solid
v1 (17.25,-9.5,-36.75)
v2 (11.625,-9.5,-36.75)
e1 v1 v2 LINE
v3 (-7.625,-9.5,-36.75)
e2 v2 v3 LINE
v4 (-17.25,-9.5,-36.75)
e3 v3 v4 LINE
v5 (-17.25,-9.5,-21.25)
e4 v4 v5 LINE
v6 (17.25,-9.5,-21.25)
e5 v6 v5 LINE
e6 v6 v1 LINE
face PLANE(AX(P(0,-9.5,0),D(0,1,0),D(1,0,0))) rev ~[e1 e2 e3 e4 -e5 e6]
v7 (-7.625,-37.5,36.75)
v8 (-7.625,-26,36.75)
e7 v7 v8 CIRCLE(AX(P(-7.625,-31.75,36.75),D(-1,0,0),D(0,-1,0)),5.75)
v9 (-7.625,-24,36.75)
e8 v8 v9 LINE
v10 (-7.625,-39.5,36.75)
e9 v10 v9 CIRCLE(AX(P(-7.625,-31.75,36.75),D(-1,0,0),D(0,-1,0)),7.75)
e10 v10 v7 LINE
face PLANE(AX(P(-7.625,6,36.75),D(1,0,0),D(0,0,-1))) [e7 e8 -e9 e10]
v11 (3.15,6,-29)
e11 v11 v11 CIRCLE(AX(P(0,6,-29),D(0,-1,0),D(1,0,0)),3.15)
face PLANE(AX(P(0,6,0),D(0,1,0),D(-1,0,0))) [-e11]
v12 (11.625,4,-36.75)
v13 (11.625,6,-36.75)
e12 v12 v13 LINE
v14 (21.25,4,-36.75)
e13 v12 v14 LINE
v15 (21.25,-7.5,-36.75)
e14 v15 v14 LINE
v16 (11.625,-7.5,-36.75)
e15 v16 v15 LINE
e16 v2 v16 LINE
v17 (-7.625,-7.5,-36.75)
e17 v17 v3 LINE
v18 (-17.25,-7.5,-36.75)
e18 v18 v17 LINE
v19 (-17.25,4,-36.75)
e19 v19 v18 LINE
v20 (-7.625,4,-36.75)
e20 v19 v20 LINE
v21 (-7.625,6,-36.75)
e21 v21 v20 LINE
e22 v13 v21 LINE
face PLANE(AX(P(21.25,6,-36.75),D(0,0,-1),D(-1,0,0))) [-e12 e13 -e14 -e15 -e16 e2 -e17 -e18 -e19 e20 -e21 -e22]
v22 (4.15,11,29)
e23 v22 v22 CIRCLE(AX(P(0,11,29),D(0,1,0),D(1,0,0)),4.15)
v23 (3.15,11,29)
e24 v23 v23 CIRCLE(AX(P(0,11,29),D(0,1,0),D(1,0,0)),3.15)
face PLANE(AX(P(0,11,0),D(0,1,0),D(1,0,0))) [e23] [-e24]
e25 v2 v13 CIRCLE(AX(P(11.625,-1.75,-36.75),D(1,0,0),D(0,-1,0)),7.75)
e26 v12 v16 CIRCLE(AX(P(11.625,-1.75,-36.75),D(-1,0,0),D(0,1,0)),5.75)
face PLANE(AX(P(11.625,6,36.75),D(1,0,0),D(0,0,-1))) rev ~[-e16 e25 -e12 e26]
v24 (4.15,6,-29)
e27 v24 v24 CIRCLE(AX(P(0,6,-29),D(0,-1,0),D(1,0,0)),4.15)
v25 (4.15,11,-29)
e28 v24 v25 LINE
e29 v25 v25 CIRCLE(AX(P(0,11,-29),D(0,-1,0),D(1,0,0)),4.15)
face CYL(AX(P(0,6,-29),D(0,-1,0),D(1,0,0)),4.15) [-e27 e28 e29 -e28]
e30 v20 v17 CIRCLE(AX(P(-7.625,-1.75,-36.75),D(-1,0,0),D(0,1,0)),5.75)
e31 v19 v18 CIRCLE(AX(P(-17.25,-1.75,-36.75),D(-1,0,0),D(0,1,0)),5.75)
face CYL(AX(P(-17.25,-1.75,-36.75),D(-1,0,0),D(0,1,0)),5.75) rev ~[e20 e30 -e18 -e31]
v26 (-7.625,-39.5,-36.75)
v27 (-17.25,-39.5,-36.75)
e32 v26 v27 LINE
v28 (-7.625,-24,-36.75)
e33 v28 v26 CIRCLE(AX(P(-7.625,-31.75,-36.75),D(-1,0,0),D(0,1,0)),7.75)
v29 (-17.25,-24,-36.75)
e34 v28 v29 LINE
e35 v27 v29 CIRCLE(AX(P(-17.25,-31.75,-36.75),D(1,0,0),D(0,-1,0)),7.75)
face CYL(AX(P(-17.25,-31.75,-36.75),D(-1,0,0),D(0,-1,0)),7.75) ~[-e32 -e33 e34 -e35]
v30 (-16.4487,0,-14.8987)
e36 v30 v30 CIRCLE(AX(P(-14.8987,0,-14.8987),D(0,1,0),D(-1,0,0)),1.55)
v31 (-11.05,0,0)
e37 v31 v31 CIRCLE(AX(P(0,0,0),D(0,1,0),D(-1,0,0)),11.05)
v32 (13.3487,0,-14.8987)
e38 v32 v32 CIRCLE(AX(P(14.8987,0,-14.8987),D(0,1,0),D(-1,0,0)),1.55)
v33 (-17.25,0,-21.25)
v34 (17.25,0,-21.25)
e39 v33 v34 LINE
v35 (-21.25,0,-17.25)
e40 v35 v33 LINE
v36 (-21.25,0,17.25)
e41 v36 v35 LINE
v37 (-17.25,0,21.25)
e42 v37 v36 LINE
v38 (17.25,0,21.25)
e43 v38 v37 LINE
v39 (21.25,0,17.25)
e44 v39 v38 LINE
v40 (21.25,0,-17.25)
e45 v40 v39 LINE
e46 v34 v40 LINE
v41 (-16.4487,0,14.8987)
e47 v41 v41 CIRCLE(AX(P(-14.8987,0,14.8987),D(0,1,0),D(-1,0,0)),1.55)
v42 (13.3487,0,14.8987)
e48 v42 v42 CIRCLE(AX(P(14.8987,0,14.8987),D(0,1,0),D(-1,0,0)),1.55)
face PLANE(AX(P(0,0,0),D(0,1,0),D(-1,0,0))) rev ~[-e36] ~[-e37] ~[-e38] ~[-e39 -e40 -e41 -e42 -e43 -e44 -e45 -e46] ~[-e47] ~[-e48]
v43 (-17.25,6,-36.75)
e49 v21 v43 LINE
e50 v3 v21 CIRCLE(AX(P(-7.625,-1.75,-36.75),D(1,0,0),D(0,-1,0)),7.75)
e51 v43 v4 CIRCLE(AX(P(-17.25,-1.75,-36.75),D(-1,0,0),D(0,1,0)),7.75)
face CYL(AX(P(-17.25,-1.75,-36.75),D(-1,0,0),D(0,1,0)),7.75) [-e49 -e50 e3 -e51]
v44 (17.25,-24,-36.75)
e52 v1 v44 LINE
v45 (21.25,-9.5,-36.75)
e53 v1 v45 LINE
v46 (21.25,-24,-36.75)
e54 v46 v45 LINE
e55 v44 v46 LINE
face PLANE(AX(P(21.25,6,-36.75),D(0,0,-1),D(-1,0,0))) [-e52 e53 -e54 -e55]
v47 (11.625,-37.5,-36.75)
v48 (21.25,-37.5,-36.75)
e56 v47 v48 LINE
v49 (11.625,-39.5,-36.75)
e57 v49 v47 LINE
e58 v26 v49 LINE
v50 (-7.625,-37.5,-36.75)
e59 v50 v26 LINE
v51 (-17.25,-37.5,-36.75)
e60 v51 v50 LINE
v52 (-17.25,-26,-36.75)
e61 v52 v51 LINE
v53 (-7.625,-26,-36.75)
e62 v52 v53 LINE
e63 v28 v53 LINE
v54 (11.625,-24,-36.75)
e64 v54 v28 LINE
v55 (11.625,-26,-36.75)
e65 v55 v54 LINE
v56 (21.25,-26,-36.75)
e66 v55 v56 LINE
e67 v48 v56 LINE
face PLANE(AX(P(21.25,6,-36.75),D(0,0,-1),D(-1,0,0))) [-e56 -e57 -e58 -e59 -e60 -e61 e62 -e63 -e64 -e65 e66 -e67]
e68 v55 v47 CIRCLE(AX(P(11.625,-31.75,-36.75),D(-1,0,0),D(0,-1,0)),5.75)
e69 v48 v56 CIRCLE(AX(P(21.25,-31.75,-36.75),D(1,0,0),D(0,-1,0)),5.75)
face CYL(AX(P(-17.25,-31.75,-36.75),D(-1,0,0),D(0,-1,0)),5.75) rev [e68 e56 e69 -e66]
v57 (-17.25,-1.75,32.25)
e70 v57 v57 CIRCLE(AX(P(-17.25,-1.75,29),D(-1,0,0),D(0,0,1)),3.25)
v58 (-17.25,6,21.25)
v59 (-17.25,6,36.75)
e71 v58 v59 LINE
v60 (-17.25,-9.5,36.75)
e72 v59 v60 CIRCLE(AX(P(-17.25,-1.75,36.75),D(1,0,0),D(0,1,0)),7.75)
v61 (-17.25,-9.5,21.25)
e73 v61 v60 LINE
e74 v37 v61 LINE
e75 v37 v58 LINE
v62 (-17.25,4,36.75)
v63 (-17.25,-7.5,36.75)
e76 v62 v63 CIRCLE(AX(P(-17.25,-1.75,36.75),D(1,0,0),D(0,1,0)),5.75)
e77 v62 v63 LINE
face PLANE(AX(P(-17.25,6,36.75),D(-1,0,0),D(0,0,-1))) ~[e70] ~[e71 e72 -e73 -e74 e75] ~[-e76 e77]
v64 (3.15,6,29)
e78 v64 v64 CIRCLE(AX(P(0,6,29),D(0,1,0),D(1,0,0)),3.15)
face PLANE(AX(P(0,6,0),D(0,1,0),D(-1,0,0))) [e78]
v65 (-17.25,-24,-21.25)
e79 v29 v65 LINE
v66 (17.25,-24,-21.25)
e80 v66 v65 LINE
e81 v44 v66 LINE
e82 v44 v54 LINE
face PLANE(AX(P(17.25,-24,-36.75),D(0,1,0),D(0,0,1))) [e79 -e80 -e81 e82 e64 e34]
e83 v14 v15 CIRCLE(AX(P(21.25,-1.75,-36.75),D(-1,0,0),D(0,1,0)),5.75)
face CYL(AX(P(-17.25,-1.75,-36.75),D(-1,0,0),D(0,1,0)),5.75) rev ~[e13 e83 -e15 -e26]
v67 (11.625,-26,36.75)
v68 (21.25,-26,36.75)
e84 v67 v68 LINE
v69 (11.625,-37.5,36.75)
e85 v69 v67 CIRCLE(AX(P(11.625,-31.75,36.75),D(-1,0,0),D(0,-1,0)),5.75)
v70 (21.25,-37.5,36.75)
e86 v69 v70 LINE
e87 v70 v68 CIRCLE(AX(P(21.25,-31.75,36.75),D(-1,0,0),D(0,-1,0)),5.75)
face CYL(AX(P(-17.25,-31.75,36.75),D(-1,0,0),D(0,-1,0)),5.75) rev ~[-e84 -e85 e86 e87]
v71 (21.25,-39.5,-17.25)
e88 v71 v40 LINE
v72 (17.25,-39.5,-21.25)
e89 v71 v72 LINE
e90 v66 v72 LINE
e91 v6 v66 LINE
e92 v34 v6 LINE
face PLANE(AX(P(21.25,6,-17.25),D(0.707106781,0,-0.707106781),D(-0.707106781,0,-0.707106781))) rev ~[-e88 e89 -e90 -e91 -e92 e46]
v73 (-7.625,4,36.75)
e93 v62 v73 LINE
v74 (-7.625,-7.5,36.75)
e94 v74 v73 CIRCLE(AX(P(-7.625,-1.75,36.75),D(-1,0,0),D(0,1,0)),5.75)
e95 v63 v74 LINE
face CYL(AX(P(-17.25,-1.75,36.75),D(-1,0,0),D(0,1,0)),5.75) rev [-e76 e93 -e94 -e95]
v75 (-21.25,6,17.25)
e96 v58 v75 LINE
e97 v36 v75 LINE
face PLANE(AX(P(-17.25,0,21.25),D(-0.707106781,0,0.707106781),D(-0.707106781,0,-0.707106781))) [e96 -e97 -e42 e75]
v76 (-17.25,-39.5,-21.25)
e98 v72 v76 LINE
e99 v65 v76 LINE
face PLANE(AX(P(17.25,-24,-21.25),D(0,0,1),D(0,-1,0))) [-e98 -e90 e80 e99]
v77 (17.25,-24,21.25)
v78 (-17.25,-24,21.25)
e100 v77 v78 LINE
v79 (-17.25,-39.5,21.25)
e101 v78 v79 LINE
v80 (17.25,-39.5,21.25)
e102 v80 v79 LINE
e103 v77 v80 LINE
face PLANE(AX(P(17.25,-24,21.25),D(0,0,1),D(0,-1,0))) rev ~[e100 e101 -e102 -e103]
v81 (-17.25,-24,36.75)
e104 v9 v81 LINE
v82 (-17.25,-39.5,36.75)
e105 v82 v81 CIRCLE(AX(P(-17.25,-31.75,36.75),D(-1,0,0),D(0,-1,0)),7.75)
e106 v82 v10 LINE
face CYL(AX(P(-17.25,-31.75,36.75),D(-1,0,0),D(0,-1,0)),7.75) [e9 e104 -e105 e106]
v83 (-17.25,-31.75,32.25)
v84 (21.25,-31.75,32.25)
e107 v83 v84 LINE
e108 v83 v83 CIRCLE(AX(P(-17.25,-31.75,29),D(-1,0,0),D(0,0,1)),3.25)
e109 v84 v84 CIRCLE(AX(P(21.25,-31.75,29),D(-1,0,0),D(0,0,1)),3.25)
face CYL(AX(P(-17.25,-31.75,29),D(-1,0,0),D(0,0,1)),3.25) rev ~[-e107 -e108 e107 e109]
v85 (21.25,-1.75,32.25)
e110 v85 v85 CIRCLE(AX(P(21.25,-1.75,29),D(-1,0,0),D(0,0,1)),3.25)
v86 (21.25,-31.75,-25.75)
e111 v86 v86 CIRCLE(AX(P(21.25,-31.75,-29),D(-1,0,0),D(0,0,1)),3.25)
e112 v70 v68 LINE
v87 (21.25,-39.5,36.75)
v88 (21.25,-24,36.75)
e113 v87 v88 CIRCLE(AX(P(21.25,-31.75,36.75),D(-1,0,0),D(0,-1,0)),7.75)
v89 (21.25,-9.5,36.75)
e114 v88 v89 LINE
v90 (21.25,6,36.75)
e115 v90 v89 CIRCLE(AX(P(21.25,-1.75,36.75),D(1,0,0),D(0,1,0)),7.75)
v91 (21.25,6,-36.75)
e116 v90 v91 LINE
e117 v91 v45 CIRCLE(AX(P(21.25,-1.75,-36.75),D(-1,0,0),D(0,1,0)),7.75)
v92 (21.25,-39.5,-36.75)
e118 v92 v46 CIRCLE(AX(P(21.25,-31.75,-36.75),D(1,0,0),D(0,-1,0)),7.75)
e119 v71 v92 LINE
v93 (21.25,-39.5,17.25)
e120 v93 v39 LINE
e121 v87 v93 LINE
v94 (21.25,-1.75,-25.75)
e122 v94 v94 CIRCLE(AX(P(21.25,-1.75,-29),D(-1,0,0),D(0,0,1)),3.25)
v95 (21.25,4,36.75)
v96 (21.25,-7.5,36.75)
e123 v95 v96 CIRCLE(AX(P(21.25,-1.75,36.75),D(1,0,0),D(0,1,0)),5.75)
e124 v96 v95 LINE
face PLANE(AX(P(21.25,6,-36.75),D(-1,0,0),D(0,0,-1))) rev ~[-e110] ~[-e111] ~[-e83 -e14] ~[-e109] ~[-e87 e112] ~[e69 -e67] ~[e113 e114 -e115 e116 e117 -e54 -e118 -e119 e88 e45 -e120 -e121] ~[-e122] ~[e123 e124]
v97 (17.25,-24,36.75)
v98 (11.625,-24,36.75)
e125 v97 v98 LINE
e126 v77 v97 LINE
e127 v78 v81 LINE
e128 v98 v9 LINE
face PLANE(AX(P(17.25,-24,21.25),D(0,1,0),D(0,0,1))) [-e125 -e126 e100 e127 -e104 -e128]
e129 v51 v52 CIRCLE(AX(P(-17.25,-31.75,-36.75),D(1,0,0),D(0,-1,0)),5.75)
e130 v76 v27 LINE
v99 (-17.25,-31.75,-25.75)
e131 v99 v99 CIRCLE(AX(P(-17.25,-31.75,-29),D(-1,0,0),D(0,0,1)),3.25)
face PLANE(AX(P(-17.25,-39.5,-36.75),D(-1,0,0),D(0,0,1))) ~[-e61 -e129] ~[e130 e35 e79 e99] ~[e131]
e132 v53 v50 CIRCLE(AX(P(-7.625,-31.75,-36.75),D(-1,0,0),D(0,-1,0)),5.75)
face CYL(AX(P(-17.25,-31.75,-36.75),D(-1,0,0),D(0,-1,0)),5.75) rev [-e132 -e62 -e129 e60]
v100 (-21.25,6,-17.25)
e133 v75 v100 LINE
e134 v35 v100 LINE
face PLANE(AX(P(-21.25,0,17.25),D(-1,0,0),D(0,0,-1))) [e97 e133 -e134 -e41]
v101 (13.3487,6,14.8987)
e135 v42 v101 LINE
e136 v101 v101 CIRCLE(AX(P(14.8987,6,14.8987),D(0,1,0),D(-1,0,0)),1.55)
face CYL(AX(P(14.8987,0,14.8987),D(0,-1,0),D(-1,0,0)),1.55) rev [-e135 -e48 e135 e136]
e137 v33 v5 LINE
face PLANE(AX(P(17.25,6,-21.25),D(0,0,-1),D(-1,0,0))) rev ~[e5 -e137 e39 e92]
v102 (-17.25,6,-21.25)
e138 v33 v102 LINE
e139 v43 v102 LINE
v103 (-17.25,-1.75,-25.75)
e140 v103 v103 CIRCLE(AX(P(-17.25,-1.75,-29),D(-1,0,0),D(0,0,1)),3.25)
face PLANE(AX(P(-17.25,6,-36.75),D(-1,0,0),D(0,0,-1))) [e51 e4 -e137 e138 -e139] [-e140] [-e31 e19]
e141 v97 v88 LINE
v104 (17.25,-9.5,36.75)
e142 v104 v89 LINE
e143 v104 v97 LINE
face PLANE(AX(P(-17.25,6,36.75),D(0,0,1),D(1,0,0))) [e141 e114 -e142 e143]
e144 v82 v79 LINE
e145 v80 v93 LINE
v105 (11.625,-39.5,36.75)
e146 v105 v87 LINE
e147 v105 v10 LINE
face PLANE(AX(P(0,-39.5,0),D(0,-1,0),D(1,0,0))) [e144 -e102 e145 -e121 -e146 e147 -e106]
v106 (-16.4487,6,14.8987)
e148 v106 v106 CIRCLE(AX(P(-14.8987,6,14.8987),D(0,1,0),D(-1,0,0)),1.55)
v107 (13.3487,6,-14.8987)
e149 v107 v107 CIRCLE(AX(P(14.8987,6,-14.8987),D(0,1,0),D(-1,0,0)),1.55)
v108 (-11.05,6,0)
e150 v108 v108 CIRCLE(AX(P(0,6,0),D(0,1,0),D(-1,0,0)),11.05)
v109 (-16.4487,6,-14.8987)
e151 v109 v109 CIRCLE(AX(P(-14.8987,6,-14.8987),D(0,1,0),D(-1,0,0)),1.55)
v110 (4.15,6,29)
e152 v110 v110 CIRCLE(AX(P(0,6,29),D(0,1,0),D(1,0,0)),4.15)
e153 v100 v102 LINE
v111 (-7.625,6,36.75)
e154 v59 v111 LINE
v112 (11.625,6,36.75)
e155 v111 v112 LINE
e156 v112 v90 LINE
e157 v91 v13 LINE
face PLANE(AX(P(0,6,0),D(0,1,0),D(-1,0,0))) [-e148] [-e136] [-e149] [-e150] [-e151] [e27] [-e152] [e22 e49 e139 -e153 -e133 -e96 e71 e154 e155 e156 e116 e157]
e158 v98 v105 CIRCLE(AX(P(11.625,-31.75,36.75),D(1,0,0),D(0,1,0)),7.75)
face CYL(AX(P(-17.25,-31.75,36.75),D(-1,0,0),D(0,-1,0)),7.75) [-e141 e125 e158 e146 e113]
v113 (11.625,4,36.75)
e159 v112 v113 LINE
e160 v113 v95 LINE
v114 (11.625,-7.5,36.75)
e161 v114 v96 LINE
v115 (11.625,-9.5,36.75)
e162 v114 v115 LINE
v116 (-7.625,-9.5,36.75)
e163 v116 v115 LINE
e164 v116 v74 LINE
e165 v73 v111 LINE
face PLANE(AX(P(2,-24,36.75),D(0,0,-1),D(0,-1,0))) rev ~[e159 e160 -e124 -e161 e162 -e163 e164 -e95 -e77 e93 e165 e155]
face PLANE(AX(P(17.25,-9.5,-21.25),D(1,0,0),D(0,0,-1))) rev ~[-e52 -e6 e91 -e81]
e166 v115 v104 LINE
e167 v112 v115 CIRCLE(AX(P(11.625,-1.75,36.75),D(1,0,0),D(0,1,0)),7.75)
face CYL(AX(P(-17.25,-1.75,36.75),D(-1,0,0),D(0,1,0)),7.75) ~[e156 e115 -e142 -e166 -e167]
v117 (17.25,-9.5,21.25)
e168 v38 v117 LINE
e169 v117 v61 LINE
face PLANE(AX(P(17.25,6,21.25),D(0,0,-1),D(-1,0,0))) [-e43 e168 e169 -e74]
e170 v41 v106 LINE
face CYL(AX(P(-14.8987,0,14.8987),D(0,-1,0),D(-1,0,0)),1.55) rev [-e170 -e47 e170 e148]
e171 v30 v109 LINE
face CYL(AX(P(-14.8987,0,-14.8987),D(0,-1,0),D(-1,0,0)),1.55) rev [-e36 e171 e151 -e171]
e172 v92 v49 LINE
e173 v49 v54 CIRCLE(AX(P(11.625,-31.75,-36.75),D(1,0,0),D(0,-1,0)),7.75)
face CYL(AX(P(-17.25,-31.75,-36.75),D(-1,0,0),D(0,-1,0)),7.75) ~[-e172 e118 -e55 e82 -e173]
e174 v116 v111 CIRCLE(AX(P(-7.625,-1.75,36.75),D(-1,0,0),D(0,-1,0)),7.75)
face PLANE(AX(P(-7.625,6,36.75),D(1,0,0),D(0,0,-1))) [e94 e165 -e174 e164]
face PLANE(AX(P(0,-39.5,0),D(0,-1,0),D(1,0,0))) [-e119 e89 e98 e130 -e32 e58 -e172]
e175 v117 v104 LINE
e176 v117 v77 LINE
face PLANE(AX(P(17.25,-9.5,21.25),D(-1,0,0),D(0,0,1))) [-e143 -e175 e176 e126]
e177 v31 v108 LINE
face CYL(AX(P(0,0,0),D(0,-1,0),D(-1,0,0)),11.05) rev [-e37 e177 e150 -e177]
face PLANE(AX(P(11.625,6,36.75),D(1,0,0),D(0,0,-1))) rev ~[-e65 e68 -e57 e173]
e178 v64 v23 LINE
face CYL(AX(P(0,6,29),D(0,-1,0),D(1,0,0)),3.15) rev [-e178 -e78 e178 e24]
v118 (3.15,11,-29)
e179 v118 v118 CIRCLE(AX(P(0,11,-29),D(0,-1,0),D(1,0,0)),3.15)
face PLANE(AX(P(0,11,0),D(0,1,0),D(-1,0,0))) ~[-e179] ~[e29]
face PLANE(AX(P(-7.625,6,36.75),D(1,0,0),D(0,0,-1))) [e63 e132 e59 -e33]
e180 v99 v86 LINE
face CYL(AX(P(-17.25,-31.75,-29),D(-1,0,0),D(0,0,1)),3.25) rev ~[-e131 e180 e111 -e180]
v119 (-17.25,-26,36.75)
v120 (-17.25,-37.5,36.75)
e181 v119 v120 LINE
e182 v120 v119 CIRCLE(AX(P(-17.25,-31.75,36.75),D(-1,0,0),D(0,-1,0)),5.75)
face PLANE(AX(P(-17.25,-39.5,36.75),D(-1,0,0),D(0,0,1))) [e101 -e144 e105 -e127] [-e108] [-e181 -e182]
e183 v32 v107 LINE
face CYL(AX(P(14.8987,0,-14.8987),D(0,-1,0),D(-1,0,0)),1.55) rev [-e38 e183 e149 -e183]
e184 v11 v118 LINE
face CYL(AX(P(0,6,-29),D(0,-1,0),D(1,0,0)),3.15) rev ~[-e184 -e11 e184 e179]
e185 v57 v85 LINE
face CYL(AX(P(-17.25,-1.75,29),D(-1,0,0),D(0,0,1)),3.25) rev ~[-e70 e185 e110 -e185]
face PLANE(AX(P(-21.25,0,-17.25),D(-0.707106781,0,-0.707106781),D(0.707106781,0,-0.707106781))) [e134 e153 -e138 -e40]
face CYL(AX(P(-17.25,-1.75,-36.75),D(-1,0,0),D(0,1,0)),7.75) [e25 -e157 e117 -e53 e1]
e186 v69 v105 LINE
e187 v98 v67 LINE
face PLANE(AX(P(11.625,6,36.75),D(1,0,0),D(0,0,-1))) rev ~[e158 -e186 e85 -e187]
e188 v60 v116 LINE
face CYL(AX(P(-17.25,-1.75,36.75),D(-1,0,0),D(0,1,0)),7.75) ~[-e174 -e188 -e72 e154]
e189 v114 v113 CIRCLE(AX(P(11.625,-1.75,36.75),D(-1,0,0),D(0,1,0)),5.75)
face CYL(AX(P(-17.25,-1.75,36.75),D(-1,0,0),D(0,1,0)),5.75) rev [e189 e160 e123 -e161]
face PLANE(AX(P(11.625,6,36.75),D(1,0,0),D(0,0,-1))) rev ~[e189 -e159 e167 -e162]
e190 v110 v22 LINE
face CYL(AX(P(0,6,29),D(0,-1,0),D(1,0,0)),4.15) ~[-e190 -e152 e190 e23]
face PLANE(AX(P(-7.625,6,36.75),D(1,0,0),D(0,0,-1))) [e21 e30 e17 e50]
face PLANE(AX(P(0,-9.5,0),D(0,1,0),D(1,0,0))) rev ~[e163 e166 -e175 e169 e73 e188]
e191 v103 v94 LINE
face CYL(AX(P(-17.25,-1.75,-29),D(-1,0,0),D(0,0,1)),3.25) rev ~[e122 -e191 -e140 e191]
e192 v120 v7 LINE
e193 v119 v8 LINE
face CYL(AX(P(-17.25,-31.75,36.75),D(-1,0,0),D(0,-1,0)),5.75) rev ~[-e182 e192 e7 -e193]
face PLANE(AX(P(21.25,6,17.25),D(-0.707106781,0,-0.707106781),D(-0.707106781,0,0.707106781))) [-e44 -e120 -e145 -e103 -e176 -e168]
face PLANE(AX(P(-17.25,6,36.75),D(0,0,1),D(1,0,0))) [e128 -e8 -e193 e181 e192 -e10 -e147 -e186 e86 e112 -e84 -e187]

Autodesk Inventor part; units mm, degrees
sketch "Sketch1" plane through (0, 0, 0) normal (0, 1, 0) x (-1, 0, 0)
  circle A0 centre (0, 0) radius 11.05
  line L0 (17.25, 21.25) -> (21.25, 17.25)
  line L1 (21.25, 17.25) -> (21.25, -17.25)
  line L2 (21.25, -17.25) -> (17.25, -21.25)
  line L3 (17.25, -21.25) -> (-17.25, -21.25)
  line L4 (-17.25, -21.25) -> (-21.25, -17.25)
  line L5 (-21.25, -17.25) -> (-21.25, 17.25)
  line L6 (-21.25, 17.25) -> (-17.25, 21.25)
  line L7 (-17.25, 21.25) -> (17.25, 21.25)
  line L8 (0, 21.25) -> (0, -21.25) construction
  line L9 (21.25, 0) -> (-21.25, 0) construction
  circle A1 centre (14.8987, 14.8987) radius 1.55
  line L10 (14.8987, 14.8987) -> (0, 0) construction
  circle A2 centre (-14.8987, 14.8987) radius 1.55
  circle A3 centre (-14.8987, -14.8987) radius 1.55
  circle A4 centre (14.8987, -14.8987) radius 1.55
  dimension "d0" = 22.1
  dimension "d1" = 42.5
  dimension "d2" = 4
  dimension "d3" = 135
  dimension "d4" = 3.1
  dimension "d5" = 21.07
  dimension "d6" = 45
  dimension "d9" = 360
extrude "Extrusion1" add sketch "Sketch1" along normal blind 6
sketch "Sketch2" plane through (0, 6, 0) normal (0, 1, 0) x (1, 0, 0)
  line L0 (-21.25, -17.25) -> (-17.25, -21.25) projected
  line L1 (-17.25, -21.25) -> (-17.25, -36.75)
  line L2 (-17.25, -36.75) -> (21.25, -36.75)
  line L3 (21.25, -36.75) -> (21.25, 36.75)
  line L4 (21.25, 36.75) -> (-17.25, 36.75)
  line L5 (17.25, 21.25) -> (-17.25, 21.25) projected
  line L6 (-17.25, 36.75) -> (-17.25, 21.25)
  line L7 (-17.25, 21.25) -> (17.25, 21.25)
  line L8 (21.25, 17.25) -> (17.25, 21.25) projected
  line L9 (17.25, 21.25) -> (21.25, 17.25)
  line L10 (21.25, 17.25) -> (21.25, -17.25)
  line L11 (21.25, -17.25) -> (17.25, -21.25)
  line L12 (17.25, -21.25) -> (-17.25, -21.25)
  line L13 (21.25, -17.25) -> (21.25, 17.25) projected
  point P0 (0, 0)
  point P1 (21.25, -17.25)
  dimension "d13" = 15.5
extrude "Extrusion2" add sketch "Sketch2" against normal blind 15.5
sketch "Sketch3" plane through (0, -9.5, 0) normal (0, -1, 0) x (1, 0, 0)
  line L0 (21.25, 36.75) -> (21.25, -36.75) projected
  line L1 (21.25, -17.25) -> (17.25, -21.25) projected
  line L2 (21.25, -36.75) -> (21.25, -17.25)
  line L3 (21.25, -17.25) -> (17.25, -21.25)
  line L4 (17.25, -21.25) -> (17.25, -36.75)
  line L5 (17.25, -36.75) -> (21.25, -36.75)
  line L6 (17.25, 21.25) -> (21.25, 17.25) projected
  line L7 (21.25, 17.25) -> (17.25, 21.25)
  line L8 (17.25, 21.25) -> (17.25, 36.75)
  line L9 (21.25, 36.75) -> (-17.25, 36.75) projected
  line L10 (21.25, 36.75) -> (21.25, 17.25)
  point P0 (0, 0)
extrude "Extrusion3" add sketch "Sketch3" along normal blind 30
sketch "Sketch4" plane through (17.25, -9.5, 21.25) normal (-1, 0, 0) x (0, 0, 1)
  line L0 (15.5, 15.5) -> (15.5, -30) projected
  line L1 (0, 0) -> (0, -30) projected
  line L2 (15.5, -30) -> (0, -30)
  line L3 (0, -30) -> (0, -14.5)
  line L4 (0, -14.5) -> (15.5, -14.5)
  line L5 (15.5, -14.5) -> (15.5, -30)
  line L6 (-42.5, 0) -> (-42.5, -30) projected
  line L7 (-58, 15.5) -> (-58, -30) projected
  line L8 (-42.5, -30) -> (-58, -30)
  line L9 (-58, -30) -> (-58, -14.5)
  line L10 (-58, -14.5) -> (-42.5, -14.5)
  line L11 (-42.5, -14.5) -> (-42.5, -30)
  point P0 (-21.25, 9.5)
  point P1 (0, -30)
  point P2 (15.5, -14.5)
  dimension "d18" = 15.5
extrude "Extrusion4" add sketch "Sketch4" along normal up to surface (34.5 mm away)
sketch "Sketch5" plane through (-17.25, -39.5, -21.25) normal (-1, 0, 0) x (0, 0, 1)
  line L0 (-15.5, 15.5) -> (0, 15.5) construction
  line L1 (-7.75, 15.5) -> (-7.75, 0) construction
  line L2 (-15.5, 0) -> (4, 0) construction
  circle A0 centre (-7.75, 7.75) radius 3.25
  line L3 (-15.5, 0) -> (-15.5, 15.5) construction
  line L4 (-15.5, 7.75) -> (-7.75, 7.75) construction
  circle A1 centre (-7.75, 37.75) radius 3.25
  circle A2 centre (50.25, 7.75) radius 3.25
  circle A3 centre (50.25, 37.75) radius 3.25
  point P0 (21.25, 39.5)
  dimension "d21" = 6.5
  dimension "d24" = 30
  dimension "d27" = 58
extrude "Extrusion5" cut sketch "Sketch5" against normal up to surface (38.5 mm away)
sketch "Sketch6" plane through (-17.25, -39.5, 36.75) normal (-1, 0, 0) x (0, 0, 1)
  arc A0 (0, 2) -> (0, 13.5) centre (0, 7.75) ccw
  arc A1 (0, 0) -> (0, 15.5) centre (0, 7.75) ccw
  line L0 (0, 0) -> (0, 2)
  line L1 (0, 13.5) -> (0, 15.5)
  line L2 (0, 15.5) -> (0, 0) projected
  point P0 (-36.75, 39.5)
  dimension "d32" = 2
  dimension "d34" = 180
extrude "Extrusion6" add sketch "Sketch6" against normal up to surface (38.5 mm away) contours A0 L1 A1 L0
ref_plane "Work Plane1" through (0, -16.75, 0) normal (0, -1, 0) x (1, 0, 0)
ref_plane "Work Plane2" through (-17.25, 6, 0) normal (0, 0, 1) x (1, 0, 0)
ref_plane "Work Plane3" through (2, 6, 36.75) normal (1, 0, 0) x (0, 0, -1)
mirror "Mirror1" about plane through (0, -16.75, 0) normal (0, -1, 0) of "Extrusion6"
mirror "Mirror2" about plane through (-17.25, 6, 0) normal (0, 0, 1) of "Extrusion6", "Mirror1"
sketch "Sketch7" plane through (2, 6, 36.75) normal (1, 0, 0) x (0, 0, -1)
  line L0 (19.5, -45.5) -> (0, -45.5) projected
  line L1 (0, -45.5) -> (-7.75, -45.5)
  line L2 (-7.75, -45.5) -> (-7.75, 0)
  line L3 (-7.75, 0) -> (0, 0)
  line L4 (0, 0) -> (0, -45.5)
  arc A0 (0, -30) -> (0, -45.5) centre (0, -37.75) ccw projected
  arc A1 (73.5, -45.5) -> (73.5, -30) centre (73.5, -37.75) ccw projected
  line L5 (73.5, -45.5) -> (81.25, -45.5)
  line L6 (81.25, -45.5) -> (81.25, 0)
  line L7 (81.25, 0) -> (73.5, 0)
  line L8 (73.5, 0) -> (73.5, -45.5)
  point P0 (36.75, -6)
  point P1 (19.5, 0)
extrude "Extrusion7" cut sketch "Sketch7" along normal mid plane 19.25
sketch "Sketch8" plane through (0, 6, 0) normal (0, 1, 0) x (1, 0, 0)
  line L0 (17.25, -36.75) -> (-17.25, -36.75) construction
  line L1 (21.25, 36.75) -> (-17.25, 36.75) construction
  line L2 (-17.25, -21.25) -> (-17.25, -36.75) construction
  line L3 (-17.25, -21.25) -> (17.25, -21.25) construction
  line L4 (-17.25, -36.75) -> (21.25, -36.75) construction
  line L5 (21.25, -36.75) -> (21.25, -21.25) construction
  line L6 (21.25, -21.25) -> (-17.25, -21.25) construction
  line L7 (-17.25, -21.25) -> (-17.25, -36.75) construction
  line L8 (21.25, -36.75) -> (21.25, 36.75) construction
  line L9 (0, -36.75) -> (0, -21.25) construction
  circle A0 centre (0, -29) radius 3.15
  circle A1 centre (0, -29) radius 4.15
  point P0 (0, 0)
  point P1 (11.625, -36.75)
  point P2 (-7.625, -36.75)
  point P3 (11.625, 36.75)
  point P4 (-7.625, 36.75)
  dimension "d39" = 6.3
  dimension "d40" = 1
extrude "Extrusion8" add sketch "Sketch8" along normal blind 5
mirror "Mirror3" about plane through (-17.25, 6, 0) normal (0, 0, 1) of "Extrusion8"
equation "\"d11\" = mount_face_thickness"
equation "\"d13\" = post_width"
equation "\"d14\" = post_width"
equation "\"d16\" = mount_length - post_width"
equation "\"d18\" = post_width"
equation "\"d19\" = mount_length - post_width"
equation "\"d21\" = rod_diameter + rod_free_tolerance"
equation "\"d24\" = mount_length - post_width"
equation "\"d39\" = slider_rod_diameter + slider_rod_tolerance"
equation "\"mount_face_thickness\" = 6"
equation "\"post_width\" = 15.5"
equation "\"slider_rod_diameter\" = 6"
equation "\"rod_diameter\" = 6"
equation "\"rod_free_tolerance\" = 0.5"
equation "\"mount_length\" = 45.5"
equation "\"slider_rod_tolerance\" = 0.3"
properties part number "carriage_motor_mount"
